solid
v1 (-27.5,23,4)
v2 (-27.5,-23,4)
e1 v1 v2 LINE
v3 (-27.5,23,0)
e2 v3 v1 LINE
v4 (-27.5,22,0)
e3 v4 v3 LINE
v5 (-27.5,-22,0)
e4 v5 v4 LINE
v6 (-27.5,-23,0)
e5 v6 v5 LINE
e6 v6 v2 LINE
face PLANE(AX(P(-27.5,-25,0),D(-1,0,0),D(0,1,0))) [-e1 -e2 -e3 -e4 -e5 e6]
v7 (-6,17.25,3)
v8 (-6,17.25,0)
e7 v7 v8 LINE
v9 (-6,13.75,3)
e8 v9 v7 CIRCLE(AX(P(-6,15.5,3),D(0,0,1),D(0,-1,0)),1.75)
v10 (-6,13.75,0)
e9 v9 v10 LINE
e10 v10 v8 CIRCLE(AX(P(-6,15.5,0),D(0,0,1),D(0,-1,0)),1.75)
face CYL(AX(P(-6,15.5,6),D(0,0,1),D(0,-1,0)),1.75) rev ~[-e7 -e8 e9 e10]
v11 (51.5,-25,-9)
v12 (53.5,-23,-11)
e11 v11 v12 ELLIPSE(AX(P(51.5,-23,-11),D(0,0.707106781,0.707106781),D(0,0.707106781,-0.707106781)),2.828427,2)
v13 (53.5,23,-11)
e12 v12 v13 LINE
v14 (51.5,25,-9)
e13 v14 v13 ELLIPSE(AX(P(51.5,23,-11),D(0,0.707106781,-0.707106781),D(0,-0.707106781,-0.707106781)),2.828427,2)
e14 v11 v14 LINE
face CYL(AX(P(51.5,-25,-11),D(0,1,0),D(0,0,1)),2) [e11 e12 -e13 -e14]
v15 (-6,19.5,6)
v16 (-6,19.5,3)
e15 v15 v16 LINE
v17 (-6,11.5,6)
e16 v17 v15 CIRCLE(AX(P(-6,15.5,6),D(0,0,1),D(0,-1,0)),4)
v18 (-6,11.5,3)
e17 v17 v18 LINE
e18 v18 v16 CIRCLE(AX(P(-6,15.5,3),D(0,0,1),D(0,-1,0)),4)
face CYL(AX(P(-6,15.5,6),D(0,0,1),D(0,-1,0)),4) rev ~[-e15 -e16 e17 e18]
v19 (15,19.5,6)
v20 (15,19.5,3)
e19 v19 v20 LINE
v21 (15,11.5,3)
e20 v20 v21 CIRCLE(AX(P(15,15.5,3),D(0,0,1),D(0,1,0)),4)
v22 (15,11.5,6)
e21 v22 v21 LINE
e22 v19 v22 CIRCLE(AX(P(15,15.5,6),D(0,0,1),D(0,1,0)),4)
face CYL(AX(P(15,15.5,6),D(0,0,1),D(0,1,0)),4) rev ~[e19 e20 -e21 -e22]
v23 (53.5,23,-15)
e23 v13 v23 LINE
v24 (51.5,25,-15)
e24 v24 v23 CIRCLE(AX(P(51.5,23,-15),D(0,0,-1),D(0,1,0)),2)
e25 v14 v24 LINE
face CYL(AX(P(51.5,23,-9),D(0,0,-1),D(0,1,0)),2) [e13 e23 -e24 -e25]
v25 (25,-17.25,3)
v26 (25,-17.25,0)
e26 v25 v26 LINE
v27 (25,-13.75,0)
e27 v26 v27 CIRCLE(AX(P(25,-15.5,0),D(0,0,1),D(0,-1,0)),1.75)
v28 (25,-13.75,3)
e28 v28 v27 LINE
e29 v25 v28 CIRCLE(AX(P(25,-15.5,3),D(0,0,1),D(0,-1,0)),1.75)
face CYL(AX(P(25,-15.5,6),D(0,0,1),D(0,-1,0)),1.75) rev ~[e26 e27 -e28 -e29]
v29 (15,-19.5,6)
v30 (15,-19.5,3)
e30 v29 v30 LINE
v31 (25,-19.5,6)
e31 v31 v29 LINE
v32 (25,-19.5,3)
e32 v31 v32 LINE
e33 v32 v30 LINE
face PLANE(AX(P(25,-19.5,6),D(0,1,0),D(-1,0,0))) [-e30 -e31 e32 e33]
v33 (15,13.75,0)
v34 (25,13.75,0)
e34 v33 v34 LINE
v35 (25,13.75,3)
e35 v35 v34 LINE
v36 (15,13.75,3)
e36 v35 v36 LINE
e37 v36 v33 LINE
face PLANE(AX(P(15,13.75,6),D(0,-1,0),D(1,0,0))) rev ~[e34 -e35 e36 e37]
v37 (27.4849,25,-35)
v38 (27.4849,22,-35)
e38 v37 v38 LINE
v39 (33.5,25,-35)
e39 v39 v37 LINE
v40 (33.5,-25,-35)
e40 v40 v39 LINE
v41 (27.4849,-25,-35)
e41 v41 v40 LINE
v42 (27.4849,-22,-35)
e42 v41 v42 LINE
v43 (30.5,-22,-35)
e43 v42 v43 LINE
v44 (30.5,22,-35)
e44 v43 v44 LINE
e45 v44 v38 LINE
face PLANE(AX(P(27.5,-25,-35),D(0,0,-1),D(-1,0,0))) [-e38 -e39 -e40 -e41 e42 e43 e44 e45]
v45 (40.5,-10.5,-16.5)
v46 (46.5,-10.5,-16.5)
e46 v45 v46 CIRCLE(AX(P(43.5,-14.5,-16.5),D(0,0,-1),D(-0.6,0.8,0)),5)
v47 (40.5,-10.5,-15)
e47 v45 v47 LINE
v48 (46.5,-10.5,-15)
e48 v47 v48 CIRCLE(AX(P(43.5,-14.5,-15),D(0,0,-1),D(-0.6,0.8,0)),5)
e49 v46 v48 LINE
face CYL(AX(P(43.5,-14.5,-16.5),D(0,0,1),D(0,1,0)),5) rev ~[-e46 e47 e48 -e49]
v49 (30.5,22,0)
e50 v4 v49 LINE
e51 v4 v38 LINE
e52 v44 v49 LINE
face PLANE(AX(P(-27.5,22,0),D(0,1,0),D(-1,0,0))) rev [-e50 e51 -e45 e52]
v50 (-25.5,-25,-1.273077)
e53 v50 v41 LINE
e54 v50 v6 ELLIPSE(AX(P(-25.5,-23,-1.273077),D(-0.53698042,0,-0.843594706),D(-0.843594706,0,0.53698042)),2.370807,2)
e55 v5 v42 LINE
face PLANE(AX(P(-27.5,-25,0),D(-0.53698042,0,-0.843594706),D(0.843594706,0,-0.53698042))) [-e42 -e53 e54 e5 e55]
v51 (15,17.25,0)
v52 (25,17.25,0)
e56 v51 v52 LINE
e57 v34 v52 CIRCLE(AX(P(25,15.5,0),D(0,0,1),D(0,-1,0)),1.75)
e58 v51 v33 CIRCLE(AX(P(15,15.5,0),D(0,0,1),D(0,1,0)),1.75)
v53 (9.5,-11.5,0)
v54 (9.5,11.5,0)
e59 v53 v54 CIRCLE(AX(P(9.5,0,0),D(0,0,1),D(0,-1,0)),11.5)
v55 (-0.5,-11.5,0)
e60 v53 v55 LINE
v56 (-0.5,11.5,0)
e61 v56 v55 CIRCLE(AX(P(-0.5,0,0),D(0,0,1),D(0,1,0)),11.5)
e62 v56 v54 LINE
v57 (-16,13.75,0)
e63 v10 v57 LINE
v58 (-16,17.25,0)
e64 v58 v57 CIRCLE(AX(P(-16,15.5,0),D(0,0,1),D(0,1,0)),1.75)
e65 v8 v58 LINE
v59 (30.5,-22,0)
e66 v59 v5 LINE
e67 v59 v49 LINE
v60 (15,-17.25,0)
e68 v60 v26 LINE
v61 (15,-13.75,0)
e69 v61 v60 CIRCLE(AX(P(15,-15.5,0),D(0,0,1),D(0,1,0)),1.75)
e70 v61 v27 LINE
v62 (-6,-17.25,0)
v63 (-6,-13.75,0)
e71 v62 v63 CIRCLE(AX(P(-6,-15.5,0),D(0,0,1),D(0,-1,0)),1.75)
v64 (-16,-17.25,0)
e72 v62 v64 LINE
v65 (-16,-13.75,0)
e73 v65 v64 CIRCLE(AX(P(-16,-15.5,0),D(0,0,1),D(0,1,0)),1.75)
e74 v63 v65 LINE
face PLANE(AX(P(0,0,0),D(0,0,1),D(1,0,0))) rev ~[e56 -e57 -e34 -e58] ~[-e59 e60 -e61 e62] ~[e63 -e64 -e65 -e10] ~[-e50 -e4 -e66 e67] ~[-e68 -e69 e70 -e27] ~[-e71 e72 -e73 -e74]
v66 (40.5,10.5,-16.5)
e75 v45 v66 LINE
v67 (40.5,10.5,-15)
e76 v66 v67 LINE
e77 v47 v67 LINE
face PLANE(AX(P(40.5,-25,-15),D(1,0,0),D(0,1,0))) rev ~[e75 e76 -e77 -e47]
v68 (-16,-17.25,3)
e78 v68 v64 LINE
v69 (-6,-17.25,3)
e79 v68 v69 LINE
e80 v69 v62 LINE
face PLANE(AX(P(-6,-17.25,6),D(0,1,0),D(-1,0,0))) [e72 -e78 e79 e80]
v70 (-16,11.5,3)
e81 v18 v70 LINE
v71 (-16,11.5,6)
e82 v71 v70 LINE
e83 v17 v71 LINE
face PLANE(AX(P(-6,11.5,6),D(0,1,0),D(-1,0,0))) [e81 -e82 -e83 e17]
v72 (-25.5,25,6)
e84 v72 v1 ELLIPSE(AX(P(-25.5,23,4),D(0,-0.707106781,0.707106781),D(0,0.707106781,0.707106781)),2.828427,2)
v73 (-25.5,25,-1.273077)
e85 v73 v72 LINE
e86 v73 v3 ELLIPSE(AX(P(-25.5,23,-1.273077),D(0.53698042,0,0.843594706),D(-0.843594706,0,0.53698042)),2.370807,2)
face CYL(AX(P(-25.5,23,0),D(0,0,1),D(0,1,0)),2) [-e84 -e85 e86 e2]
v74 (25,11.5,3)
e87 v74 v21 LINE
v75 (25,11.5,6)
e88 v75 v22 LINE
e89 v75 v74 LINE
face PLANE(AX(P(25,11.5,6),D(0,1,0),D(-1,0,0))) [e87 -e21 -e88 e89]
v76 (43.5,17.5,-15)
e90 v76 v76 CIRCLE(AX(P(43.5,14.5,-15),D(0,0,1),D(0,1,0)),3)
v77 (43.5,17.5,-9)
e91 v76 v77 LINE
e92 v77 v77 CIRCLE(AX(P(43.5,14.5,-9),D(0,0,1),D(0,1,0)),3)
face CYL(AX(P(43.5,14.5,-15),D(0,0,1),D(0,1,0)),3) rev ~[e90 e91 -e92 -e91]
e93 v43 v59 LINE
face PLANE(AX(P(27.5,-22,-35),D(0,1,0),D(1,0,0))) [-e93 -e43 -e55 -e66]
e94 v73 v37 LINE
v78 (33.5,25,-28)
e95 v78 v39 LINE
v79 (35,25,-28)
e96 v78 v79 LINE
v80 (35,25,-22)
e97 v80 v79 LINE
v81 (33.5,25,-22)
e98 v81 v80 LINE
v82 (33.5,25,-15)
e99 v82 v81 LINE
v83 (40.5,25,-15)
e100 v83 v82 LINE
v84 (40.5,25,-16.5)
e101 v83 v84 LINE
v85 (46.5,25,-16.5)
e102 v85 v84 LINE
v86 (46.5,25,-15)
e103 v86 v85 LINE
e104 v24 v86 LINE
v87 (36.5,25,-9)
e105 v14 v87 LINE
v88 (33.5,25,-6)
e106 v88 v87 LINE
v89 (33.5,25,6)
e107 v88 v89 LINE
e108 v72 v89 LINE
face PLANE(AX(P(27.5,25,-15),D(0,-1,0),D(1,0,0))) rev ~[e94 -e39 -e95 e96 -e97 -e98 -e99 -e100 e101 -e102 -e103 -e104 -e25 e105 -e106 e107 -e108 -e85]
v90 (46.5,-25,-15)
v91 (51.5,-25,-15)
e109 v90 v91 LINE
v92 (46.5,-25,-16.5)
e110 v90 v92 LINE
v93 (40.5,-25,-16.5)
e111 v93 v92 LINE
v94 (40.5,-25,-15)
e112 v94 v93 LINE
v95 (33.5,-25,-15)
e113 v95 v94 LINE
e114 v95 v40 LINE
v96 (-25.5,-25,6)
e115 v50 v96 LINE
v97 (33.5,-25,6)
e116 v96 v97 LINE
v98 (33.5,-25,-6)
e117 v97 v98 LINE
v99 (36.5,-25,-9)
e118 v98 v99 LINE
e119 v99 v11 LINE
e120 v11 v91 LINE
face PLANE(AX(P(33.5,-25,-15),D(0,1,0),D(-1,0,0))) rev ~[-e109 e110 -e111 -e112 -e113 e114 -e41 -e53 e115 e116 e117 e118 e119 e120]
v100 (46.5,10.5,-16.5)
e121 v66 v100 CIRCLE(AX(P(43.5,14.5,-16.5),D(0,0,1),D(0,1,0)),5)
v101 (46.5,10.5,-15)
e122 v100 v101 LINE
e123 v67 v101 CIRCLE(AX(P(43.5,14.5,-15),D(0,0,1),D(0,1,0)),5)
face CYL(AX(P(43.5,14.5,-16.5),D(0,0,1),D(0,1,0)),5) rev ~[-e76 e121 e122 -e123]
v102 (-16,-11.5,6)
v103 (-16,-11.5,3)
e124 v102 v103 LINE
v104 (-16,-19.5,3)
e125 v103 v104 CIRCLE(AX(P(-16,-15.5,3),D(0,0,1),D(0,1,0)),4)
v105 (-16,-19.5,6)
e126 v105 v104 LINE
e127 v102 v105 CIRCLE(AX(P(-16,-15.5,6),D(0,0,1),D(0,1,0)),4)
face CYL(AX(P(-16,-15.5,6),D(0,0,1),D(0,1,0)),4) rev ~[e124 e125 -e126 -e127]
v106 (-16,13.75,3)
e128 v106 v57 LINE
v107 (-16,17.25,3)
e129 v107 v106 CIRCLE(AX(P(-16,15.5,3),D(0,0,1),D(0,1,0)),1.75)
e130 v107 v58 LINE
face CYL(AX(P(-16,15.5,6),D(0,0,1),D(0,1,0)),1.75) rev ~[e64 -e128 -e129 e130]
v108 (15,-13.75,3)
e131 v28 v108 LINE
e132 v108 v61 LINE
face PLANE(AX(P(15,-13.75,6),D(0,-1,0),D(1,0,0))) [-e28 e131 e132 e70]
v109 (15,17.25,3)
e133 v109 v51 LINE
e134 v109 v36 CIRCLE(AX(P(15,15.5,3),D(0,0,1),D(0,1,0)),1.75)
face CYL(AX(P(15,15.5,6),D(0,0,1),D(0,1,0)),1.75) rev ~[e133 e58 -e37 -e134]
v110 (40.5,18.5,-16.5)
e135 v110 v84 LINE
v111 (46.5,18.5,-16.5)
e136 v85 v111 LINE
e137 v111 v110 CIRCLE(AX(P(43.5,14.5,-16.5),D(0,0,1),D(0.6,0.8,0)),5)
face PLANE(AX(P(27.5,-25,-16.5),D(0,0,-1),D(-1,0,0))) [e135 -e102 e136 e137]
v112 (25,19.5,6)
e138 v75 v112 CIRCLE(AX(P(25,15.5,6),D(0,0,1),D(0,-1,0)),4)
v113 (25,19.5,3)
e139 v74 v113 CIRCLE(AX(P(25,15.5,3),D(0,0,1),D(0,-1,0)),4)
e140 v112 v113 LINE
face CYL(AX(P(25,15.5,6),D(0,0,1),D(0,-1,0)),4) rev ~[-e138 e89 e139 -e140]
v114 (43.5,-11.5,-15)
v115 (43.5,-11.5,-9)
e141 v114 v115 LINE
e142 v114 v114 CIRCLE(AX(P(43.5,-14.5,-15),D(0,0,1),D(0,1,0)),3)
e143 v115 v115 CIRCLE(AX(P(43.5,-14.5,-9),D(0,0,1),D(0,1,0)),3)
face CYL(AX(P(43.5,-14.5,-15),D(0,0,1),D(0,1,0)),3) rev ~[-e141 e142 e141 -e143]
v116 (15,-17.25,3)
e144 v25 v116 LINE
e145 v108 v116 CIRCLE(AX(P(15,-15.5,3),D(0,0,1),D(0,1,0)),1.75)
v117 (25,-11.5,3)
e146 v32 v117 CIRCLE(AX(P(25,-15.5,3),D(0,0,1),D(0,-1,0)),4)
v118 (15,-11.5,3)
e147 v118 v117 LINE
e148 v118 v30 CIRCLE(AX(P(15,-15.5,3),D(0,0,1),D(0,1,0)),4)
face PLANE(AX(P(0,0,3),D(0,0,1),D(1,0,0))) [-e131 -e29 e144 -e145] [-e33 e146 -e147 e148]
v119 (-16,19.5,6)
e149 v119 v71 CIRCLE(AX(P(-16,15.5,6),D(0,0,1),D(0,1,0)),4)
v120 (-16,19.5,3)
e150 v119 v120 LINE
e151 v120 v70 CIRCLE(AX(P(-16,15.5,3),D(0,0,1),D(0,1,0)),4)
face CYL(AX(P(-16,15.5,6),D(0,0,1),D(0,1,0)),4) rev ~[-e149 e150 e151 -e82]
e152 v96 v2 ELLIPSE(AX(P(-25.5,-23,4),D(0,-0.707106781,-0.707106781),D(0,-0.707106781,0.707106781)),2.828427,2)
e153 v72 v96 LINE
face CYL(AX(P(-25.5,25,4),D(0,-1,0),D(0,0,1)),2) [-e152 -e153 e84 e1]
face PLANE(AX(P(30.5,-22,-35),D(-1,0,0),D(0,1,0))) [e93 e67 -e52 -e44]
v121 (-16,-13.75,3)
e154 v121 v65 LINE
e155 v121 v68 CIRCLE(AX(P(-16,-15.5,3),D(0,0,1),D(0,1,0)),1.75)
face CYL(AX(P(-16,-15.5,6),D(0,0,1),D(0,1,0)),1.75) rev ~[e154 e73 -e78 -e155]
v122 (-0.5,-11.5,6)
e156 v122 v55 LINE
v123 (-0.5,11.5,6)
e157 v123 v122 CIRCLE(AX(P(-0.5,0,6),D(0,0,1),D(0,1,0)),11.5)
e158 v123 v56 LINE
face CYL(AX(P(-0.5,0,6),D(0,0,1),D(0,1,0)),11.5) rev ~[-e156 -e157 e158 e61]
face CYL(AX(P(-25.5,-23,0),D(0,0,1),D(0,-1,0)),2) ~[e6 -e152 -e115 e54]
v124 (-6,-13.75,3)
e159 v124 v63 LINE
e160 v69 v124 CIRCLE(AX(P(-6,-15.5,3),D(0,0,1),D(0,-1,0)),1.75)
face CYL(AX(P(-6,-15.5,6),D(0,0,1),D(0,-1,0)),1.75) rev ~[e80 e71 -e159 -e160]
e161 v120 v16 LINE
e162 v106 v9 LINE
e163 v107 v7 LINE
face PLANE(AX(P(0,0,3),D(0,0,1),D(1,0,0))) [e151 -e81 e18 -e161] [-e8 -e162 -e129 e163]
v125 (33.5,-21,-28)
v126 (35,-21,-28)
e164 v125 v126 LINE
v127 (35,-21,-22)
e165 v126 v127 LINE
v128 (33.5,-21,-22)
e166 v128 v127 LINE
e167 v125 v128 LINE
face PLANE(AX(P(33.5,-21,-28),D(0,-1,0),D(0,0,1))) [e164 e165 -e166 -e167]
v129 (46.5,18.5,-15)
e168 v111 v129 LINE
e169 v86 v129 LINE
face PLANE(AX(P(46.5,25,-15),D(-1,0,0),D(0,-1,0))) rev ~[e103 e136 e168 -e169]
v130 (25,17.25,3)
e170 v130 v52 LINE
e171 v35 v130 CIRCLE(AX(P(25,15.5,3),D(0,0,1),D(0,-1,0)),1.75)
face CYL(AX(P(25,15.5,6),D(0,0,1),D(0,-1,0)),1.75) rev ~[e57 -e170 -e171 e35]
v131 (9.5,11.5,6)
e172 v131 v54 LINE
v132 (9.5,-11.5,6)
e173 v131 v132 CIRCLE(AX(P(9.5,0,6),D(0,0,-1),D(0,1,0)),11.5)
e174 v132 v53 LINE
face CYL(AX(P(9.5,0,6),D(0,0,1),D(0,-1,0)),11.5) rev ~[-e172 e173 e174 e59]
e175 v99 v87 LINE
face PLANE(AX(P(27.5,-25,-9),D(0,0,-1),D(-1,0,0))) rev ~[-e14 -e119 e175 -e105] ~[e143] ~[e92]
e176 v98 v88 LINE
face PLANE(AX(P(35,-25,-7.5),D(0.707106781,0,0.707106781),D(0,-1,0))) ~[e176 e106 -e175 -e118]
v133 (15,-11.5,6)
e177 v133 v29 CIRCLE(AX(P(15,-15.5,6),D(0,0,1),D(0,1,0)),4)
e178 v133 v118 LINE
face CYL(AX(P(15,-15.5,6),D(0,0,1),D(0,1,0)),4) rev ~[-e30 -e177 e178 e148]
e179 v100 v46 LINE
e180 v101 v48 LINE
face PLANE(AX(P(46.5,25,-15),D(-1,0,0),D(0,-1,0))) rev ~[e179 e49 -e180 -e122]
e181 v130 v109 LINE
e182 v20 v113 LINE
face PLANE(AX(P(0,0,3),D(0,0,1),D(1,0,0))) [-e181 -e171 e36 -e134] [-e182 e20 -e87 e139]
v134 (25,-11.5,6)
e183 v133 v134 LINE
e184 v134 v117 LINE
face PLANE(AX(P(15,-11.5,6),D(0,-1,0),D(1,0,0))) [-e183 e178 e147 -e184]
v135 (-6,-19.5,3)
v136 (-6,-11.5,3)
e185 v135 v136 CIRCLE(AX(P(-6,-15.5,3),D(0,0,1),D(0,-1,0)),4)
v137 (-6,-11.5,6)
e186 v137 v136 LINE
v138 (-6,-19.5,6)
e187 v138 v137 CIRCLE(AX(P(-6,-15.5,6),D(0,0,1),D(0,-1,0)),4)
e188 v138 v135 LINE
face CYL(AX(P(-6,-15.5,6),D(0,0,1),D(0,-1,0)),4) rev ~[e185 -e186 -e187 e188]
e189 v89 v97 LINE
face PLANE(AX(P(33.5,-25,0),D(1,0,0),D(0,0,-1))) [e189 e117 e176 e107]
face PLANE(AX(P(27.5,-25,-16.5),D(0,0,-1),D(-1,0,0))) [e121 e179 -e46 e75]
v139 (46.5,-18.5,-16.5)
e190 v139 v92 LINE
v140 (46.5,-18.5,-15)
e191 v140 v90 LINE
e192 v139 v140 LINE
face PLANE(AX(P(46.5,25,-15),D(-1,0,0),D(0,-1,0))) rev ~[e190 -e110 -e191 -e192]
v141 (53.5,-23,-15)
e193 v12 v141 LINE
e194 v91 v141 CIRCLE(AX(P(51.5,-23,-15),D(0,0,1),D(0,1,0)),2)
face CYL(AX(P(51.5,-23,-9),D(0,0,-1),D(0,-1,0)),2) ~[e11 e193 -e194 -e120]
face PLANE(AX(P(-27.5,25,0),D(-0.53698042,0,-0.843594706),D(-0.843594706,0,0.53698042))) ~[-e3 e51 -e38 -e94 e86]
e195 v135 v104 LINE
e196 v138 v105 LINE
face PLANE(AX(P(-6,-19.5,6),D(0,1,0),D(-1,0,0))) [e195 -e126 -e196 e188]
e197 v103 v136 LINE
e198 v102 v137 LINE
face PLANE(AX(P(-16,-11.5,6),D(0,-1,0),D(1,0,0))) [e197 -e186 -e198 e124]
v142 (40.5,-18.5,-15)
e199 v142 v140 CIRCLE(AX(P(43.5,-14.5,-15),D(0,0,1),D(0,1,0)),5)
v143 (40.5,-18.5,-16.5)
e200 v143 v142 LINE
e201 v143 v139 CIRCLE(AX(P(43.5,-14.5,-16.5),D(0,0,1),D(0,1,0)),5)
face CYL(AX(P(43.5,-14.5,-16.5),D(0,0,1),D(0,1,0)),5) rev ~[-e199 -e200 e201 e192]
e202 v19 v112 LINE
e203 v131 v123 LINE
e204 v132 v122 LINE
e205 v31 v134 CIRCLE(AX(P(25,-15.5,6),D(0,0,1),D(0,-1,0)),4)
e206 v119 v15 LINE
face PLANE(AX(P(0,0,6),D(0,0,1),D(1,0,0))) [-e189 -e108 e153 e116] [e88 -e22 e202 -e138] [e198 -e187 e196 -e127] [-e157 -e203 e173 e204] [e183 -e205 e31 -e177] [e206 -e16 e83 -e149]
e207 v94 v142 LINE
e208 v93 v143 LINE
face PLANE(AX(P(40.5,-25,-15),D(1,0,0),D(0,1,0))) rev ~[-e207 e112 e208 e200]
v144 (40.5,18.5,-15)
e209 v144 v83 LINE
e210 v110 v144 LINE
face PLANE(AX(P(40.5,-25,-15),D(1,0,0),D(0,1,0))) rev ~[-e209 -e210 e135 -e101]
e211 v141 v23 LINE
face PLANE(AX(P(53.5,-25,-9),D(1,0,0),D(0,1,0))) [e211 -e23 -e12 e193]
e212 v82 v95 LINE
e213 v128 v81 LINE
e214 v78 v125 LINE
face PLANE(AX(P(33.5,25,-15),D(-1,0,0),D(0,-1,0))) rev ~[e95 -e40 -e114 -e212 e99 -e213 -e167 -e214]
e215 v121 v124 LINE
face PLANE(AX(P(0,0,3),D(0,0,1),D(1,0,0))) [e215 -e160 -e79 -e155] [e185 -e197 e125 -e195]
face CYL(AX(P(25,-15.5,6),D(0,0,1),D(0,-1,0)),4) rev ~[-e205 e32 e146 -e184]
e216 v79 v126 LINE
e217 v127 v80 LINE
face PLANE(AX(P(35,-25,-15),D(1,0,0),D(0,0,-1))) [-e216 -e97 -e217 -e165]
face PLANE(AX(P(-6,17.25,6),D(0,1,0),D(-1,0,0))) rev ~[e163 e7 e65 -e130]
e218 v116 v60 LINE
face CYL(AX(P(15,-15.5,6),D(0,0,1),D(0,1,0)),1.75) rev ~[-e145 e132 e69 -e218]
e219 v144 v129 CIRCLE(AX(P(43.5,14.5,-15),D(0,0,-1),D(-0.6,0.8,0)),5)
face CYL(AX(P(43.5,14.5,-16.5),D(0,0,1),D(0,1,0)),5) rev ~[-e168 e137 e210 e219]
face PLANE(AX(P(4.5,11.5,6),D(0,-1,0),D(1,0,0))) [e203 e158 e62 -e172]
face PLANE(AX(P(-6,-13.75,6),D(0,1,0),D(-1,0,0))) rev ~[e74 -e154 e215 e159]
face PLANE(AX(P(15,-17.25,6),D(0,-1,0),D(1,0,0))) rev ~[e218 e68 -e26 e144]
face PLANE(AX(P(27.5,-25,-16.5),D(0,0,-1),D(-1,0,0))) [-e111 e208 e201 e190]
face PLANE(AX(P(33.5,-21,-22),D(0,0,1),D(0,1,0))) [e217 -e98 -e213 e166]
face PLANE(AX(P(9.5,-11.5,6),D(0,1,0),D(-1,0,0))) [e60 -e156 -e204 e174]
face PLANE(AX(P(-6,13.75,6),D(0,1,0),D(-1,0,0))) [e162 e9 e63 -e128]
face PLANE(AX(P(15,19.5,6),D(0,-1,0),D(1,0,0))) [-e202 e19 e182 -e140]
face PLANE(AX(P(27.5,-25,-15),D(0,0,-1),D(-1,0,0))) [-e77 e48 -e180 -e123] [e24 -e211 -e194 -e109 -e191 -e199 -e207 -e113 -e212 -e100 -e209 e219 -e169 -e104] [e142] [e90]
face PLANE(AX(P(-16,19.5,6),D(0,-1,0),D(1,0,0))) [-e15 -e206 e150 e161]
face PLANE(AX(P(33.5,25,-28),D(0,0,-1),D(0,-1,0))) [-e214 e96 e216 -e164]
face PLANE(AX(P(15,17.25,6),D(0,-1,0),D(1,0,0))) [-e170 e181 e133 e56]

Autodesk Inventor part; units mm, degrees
ref_plane "YZ Plane" through (0, 0, 0) normal (1, 0, 0) x (0, 1, 0)
ref_plane "XZ Plane" through (0, 0, 0) normal (0, 1, 0) x (-1, 0, 0)
ref_plane "XY Plane" through (0, 0, 0) normal (0, 0, 1) x (1, 0, 0)
sketch "Sketch1" plane through (0, 0, 0) normal (0, 0, 1) x (1, 0, 0)
  line L0 (-27.5, 25) -> (27.5, 25)
  line L1 (27.5, 25) -> (27.5, -25)
  line L2 (27.5, -25) -> (-27.5, -25)
  line L3 (-27.5, -25) -> (-27.5, 25)
  line L4 (-27.5, 25) -> (27.5, -25) construction
  line L5 (27.5, 25) -> (-27.5, -25) construction
  point P0 (0, 0)
  dimension "d0" = 55
  dimension "d1" = 50
extrude "Extrusion1" add sketch "Sketch1" along normal blind 6
sketch "Sketch2" plane through (27.5, -25, 0) normal (1, 0, 0) x (0, 0, -1)
  line L0 (-6, 50) -> (-6, 0) projected
  line L1 (-6, 0) -> (9, 0)
  line L2 (9, 0) -> (9, 50)
  line L3 (9, 50) -> (-6, 50)
  line L4 (-6, 50) -> (-6, 0)
  point P0 (0, 25)
  dimension "d4" = 15
  dimension "d5" = 50
extrude "Extrusion2" add sketch "Sketch2" along normal blind 6
sketch "Sketch4" plane through (27.5, -25, -9) normal (0, 0, -1) x (-1, 0, 0)
  line L0 (0, 0) -> (0, 50) projected
  line L1 (0, 0) -> (-26, 0)
  line L2 (-26, 0) -> (-26, 50)
  line L3 (-26, 50) -> (0, 50)
  line L4 (0, 50) -> (0, 0)
  point P0 (27.5, 25)
  dimension "d8" = 26
  dimension "d35" = 50
extrude "Extrusion3" add sketch "Sketch4" along normal blind 6
sketch "Sketch5" plane through (27.5, -25, -15) normal (0, 0, -1) x (-1, 0, 0)
  line L0 (0, 50) -> (-26, 50) projected
  line L1 (-6, 0) -> (-26, 0) projected
  line L2 (0, 50) -> (-6, 50)
  line L3 (-6, 50) -> (-6, 0)
  line L4 (-6, 0) -> (0, 0)
  line L5 (0, 0) -> (0, 50)
  point P0 (27.5, 25)
  dimension "d11" = 6
extrude "Extrusion4" add sketch "Sketch5" along normal blind 20
sketch "Sketch6" plane through (27.5, -25, -15) normal (0, 0, -1) x (-1, 0, 0)
  line L0 (-6, 0) -> (-26, 0) projected
  line L1 (-26, 50) -> (-6, 50) projected
  line L2 (-19, 0) -> (-13, 0)
  line L3 (-13, 0) -> (-13, 50)
  line L4 (-13, 50) -> (-19, 50)
  line L5 (-19, 50) -> (-19, 0)
  line L6 (-26, 50) -> (-26, 0) projected
  point P0 (27.5, 25)
  dimension "d14" = 6
  dimension "d15" = 7
extrude "Extrusion5" add sketch "Sketch6" along normal blind 1.5 contours L0 L5 L1 L3
sketch "Sketch7" plane through (33.5, -25, -15) normal (1, 0, 0) x (0, 0, -1)
  line L0 (13, 4) -> (7, 4)
  line L1 (7, 4) -> (7, 50)
  line L2 (7, 50) -> (13, 50)
  line L3 (13, 50) -> (13, 4)
  line L4 (20, 50) -> (20, 0) projected
  line L5 (0, 50) -> (20, 50) projected
  point P0 (-15, 25)
  dimension "d18" = 6
  dimension "d19" = 46
  dimension "d20" = 7
  dimension "d36" = 0
extrude "Extrusion6" add sketch "Sketch7" along normal blind 1.5
sketch "Sketch8" plane through (27.5, -25, -16.5) normal (0, 0, -1) x (-1, 0, 0)
  line L0 (-13, 0) -> (-13, 50) projected
  line L1 (-13, 25) -> (-18.895, 25)
  line L2 (-19, 0) -> (-13, 0) projected
  point P0 (27.5, 25)
  point P1 (-16, 10.5)
  point P2 (-16, 39.5)
  dimension "d23" = 10.5
  dimension "d24" = 3
hole "Hole1" at (43.5, -14.5, -16.5) at (43.5, 14.5, -16.5) direction (0, 0, 1) diameter 6 end through all counterbore diameter 10 counterbore depth 1.5
sketch "Sketch9" plane through (-27.5, -25, 0) normal (0, -1, 0) x (1, 0, 0)
  line L0 (61, -9) -> (61, 6) projected
  line L1 (0, 6) -> (61, 6) projected
  line L2 (61, 6) -> (0, 6)
  line L3 (0, 6) -> (0, 0)
  line L4 (0, 0) -> (54.9849, -35)
  line L5 (55, -35) -> (61, -35) projected
  line L6 (54.9849, -35) -> (61, -35)
  line L7 (61, -35) -> (61, 6)
  point P0 (27.5, 0)
extrude "Extrusion7" add sketch "Sketch9" against normal blind 3
ref_plane "Work Plane1" through (-27.5, 0, 6) normal (0, 1, 0) x (1, 0, 0)
mirror "Mirror1" about plane through (-27.5, 0, 6) normal (0, 1, 0) of "Extrusion7"
ref_plane "Work Plane2" through (43.5, -25, 0) normal (1, 0, 0) x (0, 0, -1)
ref_plane "Work Plane3" through (25, -25, 0) normal (1, 0, 0) x (0, 0, -1)
sketch "Sketch11" plane through (27.5, -25, -35) normal (0, 0, -1) x (-1, 0, 0)
  line L0 (0, 3) -> (0, 47) projected
  line L1 (0, 3) -> (-3, 3)
  line L2 (-3, 3) -> (-3, 47)
  line L3 (-3, 47) -> (0, 47)
  line L4 (0, 47) -> (0, 3)
  point P0 (27.5, 25)
  point P1 (0, 50)
  dimension "d39" = 3
  dimension "d40" = 44
extrude "Extrusion8" cut sketch "Sketch11" against normal blind 35
sketch "Sketch12" plane through (0, 0, 6) normal (0, 0, 1) x (1, 0, 0)
  arc A0 (15, 17.25) -> (15, 13.75) centre (15, 15.5) ccw
  arc A1 (25, 13.75) -> (25, 17.25) centre (25, 15.5) ccw
  line L0 (-27.5, -22) -> (-27.5, 22) projected
  line L1 (-27.5, 0) -> (33.5, 0)
  line L2 (33.5, 25) -> (33.5, -25) projected
  line L3 (-27.5, 25) -> (27.4849, 25) projected
  line L4 (15, 17.25) -> (25, 17.25)
  line L5 (15, 13.75) -> (25, 13.75)
  line L6 (-27.5, -25) -> (33.5, -25) projected
  line L7 (-27.5, 25) -> (33.5, 25) projected
  line L8 (25, 25) -> (25, 0)
  line L9 (25, 16) -> (29.2976, 16)
  line L10 (4.5, 25) -> (4.5, 0)
  arc A2 (-6, 13.75) -> (-6, 17.25) centre (-6, 15.5) ccw
  arc A3 (-16, 17.25) -> (-16, 13.75) centre (-16, 15.5) ccw
  line L11 (-6, 17.25) -> (-16, 17.25)
  line L12 (-6, 13.75) -> (-16, 13.75)
  arc A4 (15, -13.75) -> (15, -17.25) centre (15, -15.5) ccw
  arc A5 (25, -17.25) -> (25, -13.75) centre (25, -15.5) ccw
  line L13 (15, -17.25) -> (25, -17.25)
  line L14 (15, -13.75) -> (25, -13.75)
  arc A6 (-16, -13.75) -> (-16, -17.25) centre (-16, -15.5) ccw
  line L15 (-6, -17.25) -> (-16, -17.25)
  line L16 (-6, -13.75) -> (-16, -13.75)
  arc A7 (-6, -17.25) -> (-6, -13.75) centre (-6, -15.5) ccw
  arc A8 (-0.5, 11.5) -> (-0.5, -11.5) centre (-0.5, 0) ccw
  arc A9 (9.5, -11.5) -> (9.5, 11.5) centre (9.5, 0) ccw
  line L17 (-0.5, 11.5) -> (9.5, 11.5)
  line L18 (9.5, -11.5) -> (-0.5, -11.5)
  point P0 (0, 0)
  point P1 (-16, 16)
  point P2 (25, -16)
  point P3 (-16, -16)
  point P4 (33.5, 29)
  dimension "d43" = 3.5
  dimension "d44" = 3.5
  dimension "d49" = 8.5
  dimension "d51" = 20.5
  dimension "d52" = 15.5
  dimension "d53" = 23
  dimension "d54" = 23
  dimension "d55" = 5
  dimension "d56" = 5
extrude "Extrusion9" cut sketch "Sketch12" against normal blind 42 contours L4 L8 L5 A0 | A1 L9 L8 | L8 L9 A1 | A9 L18 A8 L1 | L1 L10 L17 A9 | L10 L1 A8 L17 | L12 A3 L11 A2 | L14 A5 L13 A4 | L16 A7 L15 A6
sketch "Sketch14" plane through (0, 0, 6) normal (0, 0, 1) x (1, 0, 0)
  arc A0 (-16, 17.25) -> (-16, 13.75) centre (-16, 15.5) ccw projected
  arc A1 (-16, 19.5) -> (-16, 11.5) centre (-16, 15.5) ccw
  arc A2 (-6, 13.75) -> (-6, 17.25) centre (-6, 15.5) ccw projected
  arc A3 (-6, 11.5) -> (-6, 19.5) centre (-6, 15.5) ccw
  line L0 (-16, 19.5) -> (-6, 19.5)
  line L1 (-6, 11.5) -> (-16, 11.5)
  arc A4 (15, 17.25) -> (15, 13.75) centre (15, 15.5) ccw projected
  arc A5 (15, -13.75) -> (15, -17.25) centre (15, -15.5) ccw projected
  arc A6 (-16, -13.75) -> (-16, -17.25) centre (-16, -15.5) ccw projected
  arc A7 (15, 19.5) -> (15, 11.5) centre (15, 15.5) ccw
  arc A8 (25, 11.5) -> (25, 19.5) centre (25, 15.5) ccw
  line L2 (15, 19.5) -> (25, 19.5)
  line L3 (25, 11.5) -> (15, 11.5)
  arc A9 (15, -11.5) -> (15, -19.5) centre (15, -15.5) ccw
  arc A10 (25, -19.5) -> (25, -11.5) centre (25, -15.5) ccw
  line L4 (15, -11.5) -> (25, -11.5)
  line L5 (25, -19.5) -> (15, -19.5)
  arc A11 (-16, -11.5) -> (-16, -19.5) centre (-16, -15.5) ccw
  arc A12 (-6, -19.5) -> (-6, -11.5) centre (-6, -15.5) ccw
  line L6 (-16, -11.5) -> (-6, -11.5)
  line L7 (-6, -19.5) -> (-16, -19.5)
  point P0 (0, 0)
  dimension "d59" = 8
  dimension "d60" = 8
  dimension "d61" = 8
  dimension "d62" = 8
  dimension "d63" = 8
  dimension "d64" = 8
  dimension "d65" = 8
  dimension "d66" = 8
extrude "Extrusion10" cut sketch "Sketch14" against normal blind 3
chamfer "Chamfer1" distance 3 angle 45 1 edges at (33.5, 0, -9)
fillet "Fillet1" radius 2 6 edges at (-27.5, -25, 3) (-27.5, 25, 3) (-27.5, 0, 6) (53.5, 25, -12) (53.5, -25, -12) (53.5, 0, -9)
properties part number "Estrutura - Suporte Z Motor v2"
